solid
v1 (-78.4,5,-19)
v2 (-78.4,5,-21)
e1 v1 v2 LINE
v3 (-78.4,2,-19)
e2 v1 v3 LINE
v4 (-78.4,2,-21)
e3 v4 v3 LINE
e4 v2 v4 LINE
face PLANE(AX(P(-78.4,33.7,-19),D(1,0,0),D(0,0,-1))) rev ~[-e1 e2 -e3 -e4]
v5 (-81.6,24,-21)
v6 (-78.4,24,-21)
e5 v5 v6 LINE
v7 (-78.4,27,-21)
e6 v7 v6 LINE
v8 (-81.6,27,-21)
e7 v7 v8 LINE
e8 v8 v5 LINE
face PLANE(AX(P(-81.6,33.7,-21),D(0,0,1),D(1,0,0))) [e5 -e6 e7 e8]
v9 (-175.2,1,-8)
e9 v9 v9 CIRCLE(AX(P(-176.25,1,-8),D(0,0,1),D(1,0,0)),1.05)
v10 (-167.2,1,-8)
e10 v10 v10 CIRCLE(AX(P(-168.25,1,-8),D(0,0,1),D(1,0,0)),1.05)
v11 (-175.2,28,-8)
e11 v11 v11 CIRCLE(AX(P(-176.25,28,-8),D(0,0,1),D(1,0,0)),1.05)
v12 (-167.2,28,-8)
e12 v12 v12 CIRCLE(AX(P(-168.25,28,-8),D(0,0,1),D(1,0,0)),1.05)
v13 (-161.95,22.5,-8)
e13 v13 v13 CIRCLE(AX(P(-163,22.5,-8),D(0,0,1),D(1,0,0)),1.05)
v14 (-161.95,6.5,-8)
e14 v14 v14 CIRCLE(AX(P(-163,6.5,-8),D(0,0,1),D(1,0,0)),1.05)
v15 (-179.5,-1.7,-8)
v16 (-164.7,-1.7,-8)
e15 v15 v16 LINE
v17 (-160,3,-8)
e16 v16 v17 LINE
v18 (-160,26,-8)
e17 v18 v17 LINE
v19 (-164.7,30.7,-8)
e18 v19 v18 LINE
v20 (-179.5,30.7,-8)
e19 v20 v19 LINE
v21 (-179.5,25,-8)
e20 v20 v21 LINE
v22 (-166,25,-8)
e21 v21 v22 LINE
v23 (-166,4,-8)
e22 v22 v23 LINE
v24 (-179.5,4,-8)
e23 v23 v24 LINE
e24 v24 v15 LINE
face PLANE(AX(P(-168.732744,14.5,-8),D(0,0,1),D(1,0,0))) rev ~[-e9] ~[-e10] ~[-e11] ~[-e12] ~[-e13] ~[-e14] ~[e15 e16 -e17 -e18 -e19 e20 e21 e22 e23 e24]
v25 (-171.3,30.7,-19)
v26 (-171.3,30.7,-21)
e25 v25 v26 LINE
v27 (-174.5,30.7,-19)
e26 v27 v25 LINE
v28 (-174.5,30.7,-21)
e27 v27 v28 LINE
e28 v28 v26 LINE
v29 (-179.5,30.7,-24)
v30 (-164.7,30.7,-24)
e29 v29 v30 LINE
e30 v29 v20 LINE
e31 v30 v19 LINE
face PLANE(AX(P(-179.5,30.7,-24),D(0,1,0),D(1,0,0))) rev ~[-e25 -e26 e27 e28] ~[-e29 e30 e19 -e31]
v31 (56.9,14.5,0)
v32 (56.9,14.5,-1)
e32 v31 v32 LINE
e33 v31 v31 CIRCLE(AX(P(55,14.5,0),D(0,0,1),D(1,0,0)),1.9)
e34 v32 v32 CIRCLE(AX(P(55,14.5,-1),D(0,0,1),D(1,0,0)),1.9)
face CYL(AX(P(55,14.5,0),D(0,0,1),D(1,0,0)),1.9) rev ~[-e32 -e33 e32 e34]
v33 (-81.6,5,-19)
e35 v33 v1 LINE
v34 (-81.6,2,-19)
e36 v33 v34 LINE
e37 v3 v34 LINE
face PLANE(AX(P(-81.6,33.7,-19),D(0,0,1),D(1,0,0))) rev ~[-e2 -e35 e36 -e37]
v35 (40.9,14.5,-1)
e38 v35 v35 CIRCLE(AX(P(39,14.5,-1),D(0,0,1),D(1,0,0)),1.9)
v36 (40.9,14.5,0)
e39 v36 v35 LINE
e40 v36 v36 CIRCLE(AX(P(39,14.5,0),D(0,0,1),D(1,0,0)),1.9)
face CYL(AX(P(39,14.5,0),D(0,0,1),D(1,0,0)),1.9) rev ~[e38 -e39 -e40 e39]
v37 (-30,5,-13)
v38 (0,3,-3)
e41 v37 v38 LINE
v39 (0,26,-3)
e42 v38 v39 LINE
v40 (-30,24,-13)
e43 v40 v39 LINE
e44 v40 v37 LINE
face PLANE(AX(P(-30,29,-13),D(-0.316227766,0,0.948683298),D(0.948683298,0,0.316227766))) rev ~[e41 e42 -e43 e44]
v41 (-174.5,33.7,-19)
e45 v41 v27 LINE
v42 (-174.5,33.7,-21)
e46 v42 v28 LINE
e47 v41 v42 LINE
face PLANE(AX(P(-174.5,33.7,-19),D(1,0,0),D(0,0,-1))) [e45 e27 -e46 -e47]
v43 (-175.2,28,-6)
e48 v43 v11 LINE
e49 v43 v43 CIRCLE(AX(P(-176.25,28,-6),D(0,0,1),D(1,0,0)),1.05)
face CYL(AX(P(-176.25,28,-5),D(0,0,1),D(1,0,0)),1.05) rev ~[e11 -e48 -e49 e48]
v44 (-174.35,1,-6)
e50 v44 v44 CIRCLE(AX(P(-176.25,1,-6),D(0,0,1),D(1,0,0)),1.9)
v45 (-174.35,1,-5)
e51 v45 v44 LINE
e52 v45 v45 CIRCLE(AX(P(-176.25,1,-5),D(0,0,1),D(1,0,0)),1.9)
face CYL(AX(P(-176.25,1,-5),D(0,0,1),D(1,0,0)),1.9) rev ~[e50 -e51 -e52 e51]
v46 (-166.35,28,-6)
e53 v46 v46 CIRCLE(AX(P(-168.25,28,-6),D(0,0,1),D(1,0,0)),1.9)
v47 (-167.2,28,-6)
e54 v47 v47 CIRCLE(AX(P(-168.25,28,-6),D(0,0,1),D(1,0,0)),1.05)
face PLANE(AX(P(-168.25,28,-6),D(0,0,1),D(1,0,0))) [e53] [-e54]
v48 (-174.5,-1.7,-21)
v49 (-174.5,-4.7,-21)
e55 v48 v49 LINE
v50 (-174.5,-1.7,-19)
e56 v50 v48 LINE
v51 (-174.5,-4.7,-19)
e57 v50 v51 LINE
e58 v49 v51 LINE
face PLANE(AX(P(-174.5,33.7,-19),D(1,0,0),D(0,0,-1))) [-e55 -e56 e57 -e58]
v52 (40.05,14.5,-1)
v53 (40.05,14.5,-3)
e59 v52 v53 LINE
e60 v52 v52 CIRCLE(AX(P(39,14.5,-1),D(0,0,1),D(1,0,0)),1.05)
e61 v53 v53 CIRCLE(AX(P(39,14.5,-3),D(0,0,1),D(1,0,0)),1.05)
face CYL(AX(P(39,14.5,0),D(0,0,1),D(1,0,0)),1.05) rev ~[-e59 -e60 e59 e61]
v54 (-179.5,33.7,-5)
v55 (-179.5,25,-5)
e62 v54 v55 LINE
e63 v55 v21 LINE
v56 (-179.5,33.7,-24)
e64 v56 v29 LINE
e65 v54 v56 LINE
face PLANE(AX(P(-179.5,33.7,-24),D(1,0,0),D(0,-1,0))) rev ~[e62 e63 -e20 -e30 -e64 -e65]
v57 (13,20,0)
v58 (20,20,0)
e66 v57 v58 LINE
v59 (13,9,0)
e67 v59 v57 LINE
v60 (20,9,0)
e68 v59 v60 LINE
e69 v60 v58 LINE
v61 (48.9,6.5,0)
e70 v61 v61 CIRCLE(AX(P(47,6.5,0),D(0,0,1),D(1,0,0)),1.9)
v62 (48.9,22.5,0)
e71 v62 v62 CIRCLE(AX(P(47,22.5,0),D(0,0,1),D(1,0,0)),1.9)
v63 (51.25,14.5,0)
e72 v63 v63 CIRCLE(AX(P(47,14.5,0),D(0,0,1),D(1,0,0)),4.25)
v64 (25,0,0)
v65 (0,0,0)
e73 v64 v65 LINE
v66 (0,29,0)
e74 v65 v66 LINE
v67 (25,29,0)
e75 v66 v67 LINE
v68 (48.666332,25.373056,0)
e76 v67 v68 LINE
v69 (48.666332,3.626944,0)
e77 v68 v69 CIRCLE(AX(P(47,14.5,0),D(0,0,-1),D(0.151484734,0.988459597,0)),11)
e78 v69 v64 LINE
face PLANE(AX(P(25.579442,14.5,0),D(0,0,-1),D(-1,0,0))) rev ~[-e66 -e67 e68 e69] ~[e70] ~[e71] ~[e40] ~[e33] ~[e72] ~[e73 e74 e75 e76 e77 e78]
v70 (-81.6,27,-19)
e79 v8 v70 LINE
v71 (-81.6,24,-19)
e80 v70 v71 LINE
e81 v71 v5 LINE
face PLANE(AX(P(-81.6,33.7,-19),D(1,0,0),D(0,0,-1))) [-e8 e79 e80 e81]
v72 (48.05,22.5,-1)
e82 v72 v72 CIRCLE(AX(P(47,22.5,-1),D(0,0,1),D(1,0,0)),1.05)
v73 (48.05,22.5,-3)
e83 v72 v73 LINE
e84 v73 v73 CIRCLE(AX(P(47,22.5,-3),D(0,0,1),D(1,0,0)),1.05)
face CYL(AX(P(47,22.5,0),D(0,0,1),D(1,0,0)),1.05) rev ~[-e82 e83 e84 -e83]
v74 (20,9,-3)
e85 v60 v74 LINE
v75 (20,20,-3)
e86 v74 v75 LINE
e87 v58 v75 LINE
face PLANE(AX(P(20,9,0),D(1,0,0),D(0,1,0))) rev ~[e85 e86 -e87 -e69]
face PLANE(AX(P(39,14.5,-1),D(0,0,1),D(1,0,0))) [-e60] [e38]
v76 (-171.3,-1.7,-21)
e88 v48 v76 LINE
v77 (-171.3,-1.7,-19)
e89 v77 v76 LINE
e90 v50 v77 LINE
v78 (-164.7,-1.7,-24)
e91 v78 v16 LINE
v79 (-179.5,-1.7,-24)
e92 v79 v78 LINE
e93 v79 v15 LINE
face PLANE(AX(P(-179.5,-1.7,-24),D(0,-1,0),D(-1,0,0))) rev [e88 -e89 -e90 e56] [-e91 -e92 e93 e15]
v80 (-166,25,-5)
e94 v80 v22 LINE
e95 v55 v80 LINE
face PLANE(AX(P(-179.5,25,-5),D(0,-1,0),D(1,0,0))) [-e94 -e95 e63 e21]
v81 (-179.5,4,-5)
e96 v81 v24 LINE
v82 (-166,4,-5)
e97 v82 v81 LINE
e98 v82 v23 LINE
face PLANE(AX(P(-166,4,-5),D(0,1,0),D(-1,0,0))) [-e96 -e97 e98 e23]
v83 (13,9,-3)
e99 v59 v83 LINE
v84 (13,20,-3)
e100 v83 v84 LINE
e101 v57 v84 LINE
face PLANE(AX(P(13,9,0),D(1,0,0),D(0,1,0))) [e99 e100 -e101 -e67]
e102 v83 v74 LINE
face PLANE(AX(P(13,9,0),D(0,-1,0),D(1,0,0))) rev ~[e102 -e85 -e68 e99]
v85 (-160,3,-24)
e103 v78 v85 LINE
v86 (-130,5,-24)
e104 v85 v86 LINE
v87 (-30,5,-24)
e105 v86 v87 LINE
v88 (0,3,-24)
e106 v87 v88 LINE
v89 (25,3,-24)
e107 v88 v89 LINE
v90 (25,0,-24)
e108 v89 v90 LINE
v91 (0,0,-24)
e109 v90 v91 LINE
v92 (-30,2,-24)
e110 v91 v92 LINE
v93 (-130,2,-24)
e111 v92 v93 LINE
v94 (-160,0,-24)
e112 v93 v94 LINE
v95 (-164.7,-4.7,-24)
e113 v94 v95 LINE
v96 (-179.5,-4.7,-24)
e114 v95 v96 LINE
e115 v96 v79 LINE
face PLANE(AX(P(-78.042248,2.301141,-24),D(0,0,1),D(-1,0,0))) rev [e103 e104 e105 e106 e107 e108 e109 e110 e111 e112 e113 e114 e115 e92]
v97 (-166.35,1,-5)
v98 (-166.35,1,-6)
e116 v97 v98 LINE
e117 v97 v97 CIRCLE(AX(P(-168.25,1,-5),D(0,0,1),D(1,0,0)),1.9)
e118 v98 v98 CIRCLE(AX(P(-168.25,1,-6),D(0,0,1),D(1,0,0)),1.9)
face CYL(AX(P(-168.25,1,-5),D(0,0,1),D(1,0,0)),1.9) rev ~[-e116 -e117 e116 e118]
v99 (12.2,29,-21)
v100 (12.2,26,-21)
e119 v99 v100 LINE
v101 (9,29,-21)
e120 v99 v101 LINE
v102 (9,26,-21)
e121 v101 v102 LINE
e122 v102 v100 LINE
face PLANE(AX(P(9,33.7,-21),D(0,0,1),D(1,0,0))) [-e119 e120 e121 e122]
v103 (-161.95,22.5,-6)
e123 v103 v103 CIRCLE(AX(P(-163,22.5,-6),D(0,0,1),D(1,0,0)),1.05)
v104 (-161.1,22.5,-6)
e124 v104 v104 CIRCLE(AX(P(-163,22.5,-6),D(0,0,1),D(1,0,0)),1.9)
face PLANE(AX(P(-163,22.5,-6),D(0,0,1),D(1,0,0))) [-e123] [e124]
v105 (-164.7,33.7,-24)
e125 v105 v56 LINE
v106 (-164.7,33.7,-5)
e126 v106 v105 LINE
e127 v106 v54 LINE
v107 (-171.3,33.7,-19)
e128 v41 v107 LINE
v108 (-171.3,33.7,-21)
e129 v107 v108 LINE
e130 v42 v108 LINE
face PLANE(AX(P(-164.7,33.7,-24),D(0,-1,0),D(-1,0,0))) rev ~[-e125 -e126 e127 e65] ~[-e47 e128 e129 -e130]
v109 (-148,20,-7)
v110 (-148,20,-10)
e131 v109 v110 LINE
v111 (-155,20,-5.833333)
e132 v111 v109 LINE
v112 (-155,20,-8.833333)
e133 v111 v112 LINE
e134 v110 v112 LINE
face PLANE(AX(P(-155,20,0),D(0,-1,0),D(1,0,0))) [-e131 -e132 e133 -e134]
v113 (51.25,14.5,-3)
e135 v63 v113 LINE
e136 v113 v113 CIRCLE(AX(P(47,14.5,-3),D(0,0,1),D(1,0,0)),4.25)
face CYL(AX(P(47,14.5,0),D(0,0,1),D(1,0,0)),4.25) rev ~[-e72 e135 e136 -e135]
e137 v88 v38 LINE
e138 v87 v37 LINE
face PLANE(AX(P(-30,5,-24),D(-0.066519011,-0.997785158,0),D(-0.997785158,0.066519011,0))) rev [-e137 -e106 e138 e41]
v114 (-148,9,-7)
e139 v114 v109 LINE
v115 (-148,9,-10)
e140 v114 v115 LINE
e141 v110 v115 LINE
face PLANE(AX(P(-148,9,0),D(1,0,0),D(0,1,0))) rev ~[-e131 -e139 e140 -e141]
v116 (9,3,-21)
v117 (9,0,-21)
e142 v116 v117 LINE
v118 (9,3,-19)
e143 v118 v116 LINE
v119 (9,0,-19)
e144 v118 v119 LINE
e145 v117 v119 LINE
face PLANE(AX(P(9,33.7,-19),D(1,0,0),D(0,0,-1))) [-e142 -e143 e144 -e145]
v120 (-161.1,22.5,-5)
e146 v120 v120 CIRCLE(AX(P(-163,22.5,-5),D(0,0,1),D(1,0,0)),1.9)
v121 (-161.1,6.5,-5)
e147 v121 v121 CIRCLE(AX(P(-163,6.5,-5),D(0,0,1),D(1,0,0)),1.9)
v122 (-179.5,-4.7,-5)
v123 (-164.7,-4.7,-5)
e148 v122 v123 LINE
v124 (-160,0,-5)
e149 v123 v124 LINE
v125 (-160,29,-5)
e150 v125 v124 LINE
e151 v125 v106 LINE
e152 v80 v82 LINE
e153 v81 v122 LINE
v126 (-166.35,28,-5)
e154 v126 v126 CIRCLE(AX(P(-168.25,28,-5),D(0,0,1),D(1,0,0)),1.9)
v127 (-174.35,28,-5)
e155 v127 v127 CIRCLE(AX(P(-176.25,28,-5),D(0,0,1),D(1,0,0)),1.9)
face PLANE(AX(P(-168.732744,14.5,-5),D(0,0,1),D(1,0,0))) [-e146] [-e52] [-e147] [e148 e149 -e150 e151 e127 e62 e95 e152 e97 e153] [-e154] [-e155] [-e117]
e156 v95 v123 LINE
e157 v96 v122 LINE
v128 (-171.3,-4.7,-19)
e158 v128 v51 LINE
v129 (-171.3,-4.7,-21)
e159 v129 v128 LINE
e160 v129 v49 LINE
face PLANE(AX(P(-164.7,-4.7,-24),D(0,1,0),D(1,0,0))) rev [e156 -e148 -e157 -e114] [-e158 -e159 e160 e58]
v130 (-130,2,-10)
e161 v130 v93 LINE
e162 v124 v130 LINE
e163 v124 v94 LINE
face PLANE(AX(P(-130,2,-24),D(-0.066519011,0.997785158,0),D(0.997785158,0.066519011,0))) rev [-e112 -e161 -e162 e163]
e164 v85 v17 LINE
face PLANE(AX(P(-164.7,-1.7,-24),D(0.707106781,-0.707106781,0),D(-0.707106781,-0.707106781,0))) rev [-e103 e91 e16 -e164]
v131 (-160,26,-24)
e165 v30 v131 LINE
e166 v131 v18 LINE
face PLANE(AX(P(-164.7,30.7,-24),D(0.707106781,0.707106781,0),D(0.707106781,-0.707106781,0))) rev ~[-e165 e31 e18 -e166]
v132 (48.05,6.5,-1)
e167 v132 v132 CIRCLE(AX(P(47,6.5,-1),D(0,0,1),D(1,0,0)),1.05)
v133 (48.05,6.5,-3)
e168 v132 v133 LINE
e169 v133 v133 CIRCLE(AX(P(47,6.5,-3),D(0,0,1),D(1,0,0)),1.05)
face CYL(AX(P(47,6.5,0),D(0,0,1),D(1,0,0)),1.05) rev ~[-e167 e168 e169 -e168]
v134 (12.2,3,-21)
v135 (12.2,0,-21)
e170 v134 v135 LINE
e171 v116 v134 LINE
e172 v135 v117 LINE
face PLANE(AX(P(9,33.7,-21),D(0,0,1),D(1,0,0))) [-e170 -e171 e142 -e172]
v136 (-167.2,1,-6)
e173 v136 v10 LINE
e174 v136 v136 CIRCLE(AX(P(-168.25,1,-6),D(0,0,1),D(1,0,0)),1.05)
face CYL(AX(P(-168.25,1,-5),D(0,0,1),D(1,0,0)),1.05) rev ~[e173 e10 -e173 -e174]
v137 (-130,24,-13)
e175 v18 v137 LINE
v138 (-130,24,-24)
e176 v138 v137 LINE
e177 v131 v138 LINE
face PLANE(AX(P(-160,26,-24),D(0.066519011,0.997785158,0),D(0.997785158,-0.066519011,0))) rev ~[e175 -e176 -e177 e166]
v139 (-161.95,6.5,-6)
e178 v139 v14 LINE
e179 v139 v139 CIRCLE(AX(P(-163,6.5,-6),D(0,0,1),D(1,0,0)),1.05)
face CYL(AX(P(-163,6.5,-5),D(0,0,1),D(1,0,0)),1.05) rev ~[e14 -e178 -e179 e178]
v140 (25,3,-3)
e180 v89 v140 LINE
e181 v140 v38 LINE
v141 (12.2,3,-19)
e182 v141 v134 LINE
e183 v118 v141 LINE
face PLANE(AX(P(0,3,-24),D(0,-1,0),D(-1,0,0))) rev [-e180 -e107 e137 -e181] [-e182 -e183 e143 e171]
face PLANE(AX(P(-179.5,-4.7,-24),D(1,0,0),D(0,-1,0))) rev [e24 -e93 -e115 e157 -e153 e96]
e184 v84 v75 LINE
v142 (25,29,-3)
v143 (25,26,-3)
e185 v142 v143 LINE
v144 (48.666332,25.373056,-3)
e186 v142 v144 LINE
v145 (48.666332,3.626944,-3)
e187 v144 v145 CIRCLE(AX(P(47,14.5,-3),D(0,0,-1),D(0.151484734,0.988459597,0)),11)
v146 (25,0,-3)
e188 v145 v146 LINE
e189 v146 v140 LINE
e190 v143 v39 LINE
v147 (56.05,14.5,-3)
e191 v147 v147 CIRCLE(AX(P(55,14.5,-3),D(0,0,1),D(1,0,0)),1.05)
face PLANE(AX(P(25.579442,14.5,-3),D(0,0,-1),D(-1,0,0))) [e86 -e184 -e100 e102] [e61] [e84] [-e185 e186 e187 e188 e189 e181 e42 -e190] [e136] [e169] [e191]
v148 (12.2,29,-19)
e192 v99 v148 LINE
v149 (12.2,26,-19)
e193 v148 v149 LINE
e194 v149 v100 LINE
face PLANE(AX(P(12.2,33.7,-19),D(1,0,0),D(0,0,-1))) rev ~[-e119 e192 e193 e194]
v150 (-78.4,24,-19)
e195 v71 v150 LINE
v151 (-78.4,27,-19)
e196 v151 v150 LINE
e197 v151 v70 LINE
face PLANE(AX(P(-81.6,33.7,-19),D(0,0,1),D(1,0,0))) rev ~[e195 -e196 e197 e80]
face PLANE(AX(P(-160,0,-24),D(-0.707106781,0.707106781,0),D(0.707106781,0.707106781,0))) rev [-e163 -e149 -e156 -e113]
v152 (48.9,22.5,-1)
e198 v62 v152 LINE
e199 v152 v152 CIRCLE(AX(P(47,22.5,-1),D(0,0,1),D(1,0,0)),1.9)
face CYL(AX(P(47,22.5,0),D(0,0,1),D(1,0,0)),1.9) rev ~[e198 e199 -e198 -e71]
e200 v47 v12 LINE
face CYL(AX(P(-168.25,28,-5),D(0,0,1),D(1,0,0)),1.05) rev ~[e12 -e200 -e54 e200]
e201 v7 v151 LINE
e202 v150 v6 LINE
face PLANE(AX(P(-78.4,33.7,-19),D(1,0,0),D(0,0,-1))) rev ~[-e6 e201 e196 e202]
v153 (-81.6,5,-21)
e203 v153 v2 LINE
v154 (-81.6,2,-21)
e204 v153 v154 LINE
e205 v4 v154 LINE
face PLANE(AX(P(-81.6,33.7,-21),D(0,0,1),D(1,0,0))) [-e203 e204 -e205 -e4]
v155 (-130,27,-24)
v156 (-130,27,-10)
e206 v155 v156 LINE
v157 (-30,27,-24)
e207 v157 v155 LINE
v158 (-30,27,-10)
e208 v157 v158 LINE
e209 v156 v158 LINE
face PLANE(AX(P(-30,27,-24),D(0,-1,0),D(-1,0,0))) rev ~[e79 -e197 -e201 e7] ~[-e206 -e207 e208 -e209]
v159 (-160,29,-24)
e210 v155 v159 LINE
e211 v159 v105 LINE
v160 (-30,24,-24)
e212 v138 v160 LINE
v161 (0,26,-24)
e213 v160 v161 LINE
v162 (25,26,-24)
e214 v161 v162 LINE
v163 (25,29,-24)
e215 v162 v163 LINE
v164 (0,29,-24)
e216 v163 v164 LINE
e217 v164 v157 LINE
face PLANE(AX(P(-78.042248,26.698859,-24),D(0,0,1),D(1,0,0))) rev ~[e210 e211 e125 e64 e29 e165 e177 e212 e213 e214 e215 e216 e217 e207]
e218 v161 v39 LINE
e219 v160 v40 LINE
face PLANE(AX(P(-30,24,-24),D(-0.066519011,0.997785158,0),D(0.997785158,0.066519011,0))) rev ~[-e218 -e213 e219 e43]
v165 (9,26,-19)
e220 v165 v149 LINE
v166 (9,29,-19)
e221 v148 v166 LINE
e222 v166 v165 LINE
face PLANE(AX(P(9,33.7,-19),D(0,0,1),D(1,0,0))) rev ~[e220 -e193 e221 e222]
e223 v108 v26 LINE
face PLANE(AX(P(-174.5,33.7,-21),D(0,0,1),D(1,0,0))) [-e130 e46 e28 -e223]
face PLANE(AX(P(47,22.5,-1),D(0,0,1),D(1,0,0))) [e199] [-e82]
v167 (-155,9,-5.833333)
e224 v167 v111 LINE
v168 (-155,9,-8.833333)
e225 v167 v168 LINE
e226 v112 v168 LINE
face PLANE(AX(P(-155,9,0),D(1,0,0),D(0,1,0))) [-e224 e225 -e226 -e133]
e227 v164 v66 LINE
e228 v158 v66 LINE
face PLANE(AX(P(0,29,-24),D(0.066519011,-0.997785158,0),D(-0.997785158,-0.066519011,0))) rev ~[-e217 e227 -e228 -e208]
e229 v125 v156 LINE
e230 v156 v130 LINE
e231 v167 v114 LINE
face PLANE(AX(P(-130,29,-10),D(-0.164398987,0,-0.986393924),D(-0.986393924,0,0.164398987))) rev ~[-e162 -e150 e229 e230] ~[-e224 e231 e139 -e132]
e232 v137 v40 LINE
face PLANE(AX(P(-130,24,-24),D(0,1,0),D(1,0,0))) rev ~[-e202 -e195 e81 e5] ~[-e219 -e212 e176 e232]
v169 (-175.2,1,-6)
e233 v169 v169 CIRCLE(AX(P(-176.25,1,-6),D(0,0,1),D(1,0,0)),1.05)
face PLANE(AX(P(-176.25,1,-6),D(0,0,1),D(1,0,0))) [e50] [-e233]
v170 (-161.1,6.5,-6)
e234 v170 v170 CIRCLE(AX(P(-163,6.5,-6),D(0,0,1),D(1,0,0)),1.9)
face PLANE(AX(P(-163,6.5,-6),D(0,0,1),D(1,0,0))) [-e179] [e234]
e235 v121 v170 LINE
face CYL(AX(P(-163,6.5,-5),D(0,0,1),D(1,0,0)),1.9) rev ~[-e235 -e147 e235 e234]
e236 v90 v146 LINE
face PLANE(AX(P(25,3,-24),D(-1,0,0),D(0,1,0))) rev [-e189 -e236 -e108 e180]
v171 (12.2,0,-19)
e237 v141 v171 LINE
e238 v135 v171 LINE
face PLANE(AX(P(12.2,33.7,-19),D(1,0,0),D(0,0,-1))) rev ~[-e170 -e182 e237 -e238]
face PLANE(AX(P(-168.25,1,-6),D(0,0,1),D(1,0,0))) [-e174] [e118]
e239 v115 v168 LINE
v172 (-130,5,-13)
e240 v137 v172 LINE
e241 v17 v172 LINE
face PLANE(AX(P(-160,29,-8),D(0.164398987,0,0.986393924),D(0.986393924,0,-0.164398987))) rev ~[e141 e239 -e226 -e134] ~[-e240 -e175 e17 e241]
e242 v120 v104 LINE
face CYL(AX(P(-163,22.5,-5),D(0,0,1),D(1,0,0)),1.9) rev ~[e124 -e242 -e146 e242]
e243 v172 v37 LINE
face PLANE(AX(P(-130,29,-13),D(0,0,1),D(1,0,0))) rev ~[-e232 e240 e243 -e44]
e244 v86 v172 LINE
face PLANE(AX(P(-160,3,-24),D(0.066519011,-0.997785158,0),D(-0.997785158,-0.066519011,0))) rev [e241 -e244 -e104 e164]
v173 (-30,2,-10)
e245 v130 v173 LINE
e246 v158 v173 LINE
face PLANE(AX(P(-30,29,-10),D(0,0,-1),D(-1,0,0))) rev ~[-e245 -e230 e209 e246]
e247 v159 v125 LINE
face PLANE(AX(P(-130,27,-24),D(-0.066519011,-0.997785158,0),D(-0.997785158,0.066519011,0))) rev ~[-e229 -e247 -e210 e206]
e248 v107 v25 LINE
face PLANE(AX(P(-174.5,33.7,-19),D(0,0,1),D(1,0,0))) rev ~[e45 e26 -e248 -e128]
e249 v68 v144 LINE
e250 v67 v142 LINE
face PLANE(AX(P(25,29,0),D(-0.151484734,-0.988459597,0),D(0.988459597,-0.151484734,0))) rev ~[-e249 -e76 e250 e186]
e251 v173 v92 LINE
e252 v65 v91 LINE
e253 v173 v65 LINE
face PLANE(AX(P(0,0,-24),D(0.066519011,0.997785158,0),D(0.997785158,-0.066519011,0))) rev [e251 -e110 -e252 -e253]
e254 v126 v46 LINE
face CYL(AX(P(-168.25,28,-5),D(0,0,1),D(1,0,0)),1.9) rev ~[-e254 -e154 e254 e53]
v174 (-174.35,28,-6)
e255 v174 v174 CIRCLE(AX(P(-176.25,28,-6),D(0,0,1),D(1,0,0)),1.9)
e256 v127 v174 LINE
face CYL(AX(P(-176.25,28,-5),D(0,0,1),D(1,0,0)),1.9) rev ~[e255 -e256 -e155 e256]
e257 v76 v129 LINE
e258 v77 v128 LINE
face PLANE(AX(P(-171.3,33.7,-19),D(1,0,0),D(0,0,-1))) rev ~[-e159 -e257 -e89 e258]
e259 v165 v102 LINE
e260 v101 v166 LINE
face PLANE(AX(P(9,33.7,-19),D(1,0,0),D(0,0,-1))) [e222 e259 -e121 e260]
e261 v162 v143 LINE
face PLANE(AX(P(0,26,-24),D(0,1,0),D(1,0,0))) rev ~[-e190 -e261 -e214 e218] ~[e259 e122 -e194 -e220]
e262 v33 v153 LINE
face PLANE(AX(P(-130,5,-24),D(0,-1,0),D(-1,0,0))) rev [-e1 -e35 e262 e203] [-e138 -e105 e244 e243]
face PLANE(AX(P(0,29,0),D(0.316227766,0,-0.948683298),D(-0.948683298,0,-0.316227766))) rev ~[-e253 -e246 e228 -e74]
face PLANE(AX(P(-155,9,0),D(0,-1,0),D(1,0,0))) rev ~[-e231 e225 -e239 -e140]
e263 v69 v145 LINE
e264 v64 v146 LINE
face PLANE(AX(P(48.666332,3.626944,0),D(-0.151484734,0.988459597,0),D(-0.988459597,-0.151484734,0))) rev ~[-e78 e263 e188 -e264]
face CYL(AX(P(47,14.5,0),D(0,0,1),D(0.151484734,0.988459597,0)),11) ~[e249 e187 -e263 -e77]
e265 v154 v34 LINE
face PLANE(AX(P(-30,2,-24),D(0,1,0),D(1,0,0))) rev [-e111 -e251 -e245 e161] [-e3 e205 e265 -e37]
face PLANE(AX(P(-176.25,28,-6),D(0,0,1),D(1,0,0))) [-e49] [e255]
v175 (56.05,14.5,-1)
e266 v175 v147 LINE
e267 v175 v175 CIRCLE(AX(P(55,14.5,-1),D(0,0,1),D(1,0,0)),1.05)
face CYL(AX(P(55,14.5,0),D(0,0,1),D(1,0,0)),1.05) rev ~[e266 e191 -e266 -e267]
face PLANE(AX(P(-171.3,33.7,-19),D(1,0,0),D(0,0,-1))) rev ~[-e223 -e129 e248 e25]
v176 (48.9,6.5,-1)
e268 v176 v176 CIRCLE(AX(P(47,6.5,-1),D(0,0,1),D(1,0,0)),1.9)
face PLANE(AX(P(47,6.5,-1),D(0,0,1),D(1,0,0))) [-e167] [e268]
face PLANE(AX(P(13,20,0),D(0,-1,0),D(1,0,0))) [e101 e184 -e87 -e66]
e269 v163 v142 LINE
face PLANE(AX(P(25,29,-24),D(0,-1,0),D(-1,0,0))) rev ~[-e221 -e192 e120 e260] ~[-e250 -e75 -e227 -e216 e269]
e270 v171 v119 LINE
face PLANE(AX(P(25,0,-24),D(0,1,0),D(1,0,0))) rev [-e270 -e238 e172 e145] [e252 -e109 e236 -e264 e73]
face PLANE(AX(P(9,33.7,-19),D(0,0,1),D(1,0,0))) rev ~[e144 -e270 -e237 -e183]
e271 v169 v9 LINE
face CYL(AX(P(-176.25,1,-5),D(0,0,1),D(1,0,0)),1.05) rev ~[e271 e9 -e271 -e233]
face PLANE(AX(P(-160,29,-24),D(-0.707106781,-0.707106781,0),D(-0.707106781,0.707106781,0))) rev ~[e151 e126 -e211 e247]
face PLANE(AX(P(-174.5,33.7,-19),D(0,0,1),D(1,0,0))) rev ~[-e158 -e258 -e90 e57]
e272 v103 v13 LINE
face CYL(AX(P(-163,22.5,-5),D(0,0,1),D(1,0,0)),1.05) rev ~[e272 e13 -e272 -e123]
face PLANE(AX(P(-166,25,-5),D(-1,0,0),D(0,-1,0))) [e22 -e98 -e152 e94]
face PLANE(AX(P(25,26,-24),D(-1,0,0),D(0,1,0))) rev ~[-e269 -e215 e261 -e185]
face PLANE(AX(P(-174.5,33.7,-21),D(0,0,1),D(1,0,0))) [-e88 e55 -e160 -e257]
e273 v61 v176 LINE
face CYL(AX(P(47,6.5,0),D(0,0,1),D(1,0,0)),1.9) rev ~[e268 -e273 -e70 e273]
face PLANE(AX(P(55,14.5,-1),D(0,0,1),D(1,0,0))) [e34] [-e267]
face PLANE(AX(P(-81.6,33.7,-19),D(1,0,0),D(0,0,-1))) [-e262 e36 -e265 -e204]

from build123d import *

# Parameters (mm, degrees)
BOSS_EXTRUDE1_DEPTH = 3
CUT_EXTRUDE1_REACH  = 66.915
SKETCH2_R           = 4.25
SKETCH2_R_2         = 1.05
SKETCH3_R           = 1.9
CUT_EXTRUDE2_DEPTH  = 1
BOSS_EXTRUDE2_DEPTH = 29
BOSS_EXTRUDE4_DEPTH = 3
CUT_EXTRUDE3_REACH  = 184.811
SKETCH8_R           = 1.05
SKETCH9_R           = 1.9
CUT_EXTRUDE4_DEPTH  = 1
CUT_EXTRUDE5_REACH  = 185.098
BOSS_EXTRUDE8_REACH = 186.206
SKETCH16_W          = 3.2
SKETCH16_H          = 2
CUT_EXTRUDE6_DEPTH  = 186.123769408
CUT_EXTRUDE7_REACH  = 186.206
SKETCH17_W          = 7
SKETCH17_H          = 11


with BuildPart() as part:
    # Sketch1 → Boss-Extrude1 (new body)
    with BuildSketch(Plane.XY):
        with BuildLine():
            Line((25, 29), (48.666332079, 25.373055569))
            ThreePointArc((48.666332079, 25.373055569), (58, 14.5), (48.666332079, 3.626944431))
            Line((48.666332079, 3.626944431), (25, 0))
            Line((25, 0), (0, 0))
            Line((0, 0), (0, 29))
            Line((0, 29), (25, 29))
        make_face()
    extrude(amount=-BOSS_EXTRUDE1_DEPTH)

    # Sketch2 → Cut-Extrude1 (cut, up to next)
    with BuildSketch(Plane.XY, mode=Mode.PRIVATE) as cut_extrude1_sk1:
        with Locations((47, 14.5)):
            Circle(SKETCH2_R)
    cut_extrude1_tool1 = extrude(cut_extrude1_sk1.sketch, amount=-CUT_EXTRUDE1_REACH, mode=Mode.PRIVATE) & part.part
    # Sketch2 → Cut-Extrude1 (cut, up to next)
    with BuildSketch(Plane.XY, mode=Mode.PRIVATE) as cut_extrude1_sk2:
        with Locations((47, 22.5)):
            Circle(SKETCH2_R_2)
    cut_extrude1_tool2 = extrude(cut_extrude1_sk2.sketch, amount=-CUT_EXTRUDE1_REACH, mode=Mode.PRIVATE) & part.part
    # Sketch2 → Cut-Extrude1 (cut, up to next)
    with BuildSketch(Plane.XY, mode=Mode.PRIVATE) as cut_extrude1_sk3:
        with Locations((55, 14.5)):
            Circle(SKETCH2_R_2)
    cut_extrude1_tool3 = extrude(cut_extrude1_sk3.sketch, amount=-CUT_EXTRUDE1_REACH, mode=Mode.PRIVATE) & part.part
    # Sketch2 → Cut-Extrude1 (cut, up to next)
    with BuildSketch(Plane.XY, mode=Mode.PRIVATE) as cut_extrude1_sk4:
        with Locations((47, 6.5)):
            Circle(SKETCH2_R_2)
    cut_extrude1_tool4 = extrude(cut_extrude1_sk4.sketch, amount=-CUT_EXTRUDE1_REACH, mode=Mode.PRIVATE) & part.part
    # Sketch2 → Cut-Extrude1 (cut, up to next)
    with BuildSketch(Plane.XY, mode=Mode.PRIVATE) as cut_extrude1_sk5:
        with Locations((39, 14.5)):
            Circle(SKETCH2_R_2)
    cut_extrude1_tool5 = extrude(cut_extrude1_sk5.sketch, amount=-CUT_EXTRUDE1_REACH, mode=Mode.PRIVATE) & part.part
    add(cut_extrude1_tool1.solids().sort_by_distance((47, 14.5, 0))[0], mode=Mode.SUBTRACT)
    add(cut_extrude1_tool2.solids().sort_by_distance((47, 22.5, 0))[0], mode=Mode.SUBTRACT)
    add(cut_extrude1_tool3.solids().sort_by_distance((55, 14.5, 0))[0], mode=Mode.SUBTRACT)
    add(cut_extrude1_tool4.solids().sort_by_distance((47, 6.5, 0))[0], mode=Mode.SUBTRACT)
    add(cut_extrude1_tool5.solids().sort_by_distance((39, 14.5, 0))[0], mode=Mode.SUBTRACT)

    # Sketch3 → Cut-Extrude2 (cut)
    with BuildSketch(Plane.XY):
        with Locations((47, 22.5)):
            Circle(SKETCH3_R)
        with Locations((55, 14.5)):
            Circle(SKETCH3_R)
        with Locations((47, 6.5)):
            Circle(SKETCH3_R)
        with Locations((39, 14.5)):
            Circle(SKETCH3_R)
    extrude(amount=-CUT_EXTRUDE2_DEPTH, mode=Mode.SUBTRACT)

    # Sketch4 → Boss-Extrude2 (add)
    with BuildSketch(Plane(origin=(0, 29, 0), x_dir=(1, 0, 0), z_dir=(0, 1, 0))):
        Polygon((0, 3), (0, 0), (-30, 10), (-130, 10), (-160, 5), (-160, 8), (-130, 13), (-30, 13), align=None)
    extrude(amount=-BOSS_EXTRUDE2_DEPTH)

    # Sketch7 → Boss-Extrude4 (add)
    with BuildSketch(Plane.XY.offset(-5)):
        Polygon((-160, 29), (-164.7, 33.7), (-179.5, 33.7), (-179.5, 25), (-166, 25), (-166, 4), (-179.5, 4), (-179.5, -4.7), (-164.7, -4.7), (-160, 0), align=None)
    extrude(amount=-BOSS_EXTRUDE4_DEPTH)

    # Sketch8 → Cut-Extrude3 (cut, up to next)
    with BuildSketch(Plane.XY.offset(-5), mode=Mode.PRIVATE) as cut_extrude3_sk1:
        with Locations((-176.25, 28)):
            Circle(SKETCH8_R)
    cut_extrude3_tool1 = extrude(cut_extrude3_sk1.sketch, amount=-CUT_EXTRUDE3_REACH, mode=Mode.PRIVATE) & part.part
    # Sketch8 → Cut-Extrude3 (cut, up to next)
    with BuildSketch(Plane.XY.offset(-5), mode=Mode.PRIVATE) as cut_extrude3_sk2:
        with Locations((-168.25, 28)):
            Circle(SKETCH8_R)
    cut_extrude3_tool2 = extrude(cut_extrude3_sk2.sketch, amount=-CUT_EXTRUDE3_REACH, mode=Mode.PRIVATE) & part.part
    # Sketch8 → Cut-Extrude3 (cut, up to next)
    with BuildSketch(Plane.XY.offset(-5), mode=Mode.PRIVATE) as cut_extrude3_sk3:
        with Locations((-163, 22.5)):
            Circle(SKETCH8_R)
    cut_extrude3_tool3 = extrude(cut_extrude3_sk3.sketch, amount=-CUT_EXTRUDE3_REACH, mode=Mode.PRIVATE) & part.part
    # Sketch8 → Cut-Extrude3 (cut, up to next)
    with BuildSketch(Plane.XY.offset(-5), mode=Mode.PRIVATE) as cut_extrude3_sk4:
        with Locations((-163, 6.5)):
            Circle(SKETCH8_R)
    cut_extrude3_tool4 = extrude(cut_extrude3_sk4.sketch, amount=-CUT_EXTRUDE3_REACH, mode=Mode.PRIVATE) & part.part
    # Sketch8 → Cut-Extrude3 (cut, up to next)
    with BuildSketch(Plane.XY.offset(-5), mode=Mode.PRIVATE) as cut_extrude3_sk5:
        with Locations((-168.25, 1)):
            Circle(SKETCH8_R)
    cut_extrude3_tool5 = extrude(cut_extrude3_sk5.sketch, amount=-CUT_EXTRUDE3_REACH, mode=Mode.PRIVATE) & part.part
    # Sketch8 → Cut-Extrude3 (cut, up to next)
    with BuildSketch(Plane.XY.offset(-5), mode=Mode.PRIVATE) as cut_extrude3_sk6:
        with Locations((-176.25, 1)):
            Circle(SKETCH8_R)
    cut_extrude3_tool6 = extrude(cut_extrude3_sk6.sketch, amount=-CUT_EXTRUDE3_REACH, mode=Mode.PRIVATE) & part.part
    add(cut_extrude3_tool1.solids().sort_by_distance((-176.25, 28, -5))[0], mode=Mode.SUBTRACT)
    add(cut_extrude3_tool2.solids().sort_by_distance((-168.25, 28, -5))[0], mode=Mode.SUBTRACT)
    add(cut_extrude3_tool3.solids().sort_by_distance((-163, 22.5, -5))[0], mode=Mode.SUBTRACT)
    add(cut_extrude3_tool4.solids().sort_by_distance((-163, 6.5, -5))[0], mode=Mode.SUBTRACT)
    add(cut_extrude3_tool5.solids().sort_by_distance((-168.25, 1, -5))[0], mode=Mode.SUBTRACT)
    add(cut_extrude3_tool6.solids().sort_by_distance((-176.25, 1, -5))[0], mode=Mode.SUBTRACT)

    # Sketch9 → Cut-Extrude4 (cut)
    with BuildSketch(Plane.XY.offset(-5)):
        with Locations((-176.25, 28)):
            Circle(SKETCH9_R)
        with Locations((-168.25, 28)):
            Circle(SKETCH9_R)
        with Locations((-163, 22.5)):
            Circle(SKETCH9_R)
        with Locations((-163, 6.5)):
            Circle(SKETCH9_R)
        with Locations((-168.25, 1)):
            Circle(SKETCH9_R)
        with Locations((-176.25, 1)):
            Circle(SKETCH9_R)
    extrude(amount=-CUT_EXTRUDE4_DEPTH, mode=Mode.SUBTRACT)

    # Cut-Extrude5: up to this face of the body (flat: up to its plane)
    cut_extrude5_end = Plane(part.part.faces().sort_by_distance((-80, 14.5, -13))[0])
    # Sketch11 → Cut-Extrude5 (cut, up to the picked face)
    with BuildSketch(Plane.XY, mode=Mode.PRIVATE) as cut_extrude5_sk1:
        Polygon((0, 0), (-30, 2), (-130, 2), (-160, 0), align=None)
    cut_extrude5_tool1 = split(extrude(cut_extrude5_sk1.sketch, amount=-CUT_EXTRUDE5_REACH, mode=Mode.PRIVATE), bisect_by=cut_extrude5_end, keep=Keep.BOTH, mode=Mode.PRIVATE)
    # Sketch11 → Cut-Extrude5 (cut, up to the picked face)
    with BuildSketch(Plane.XY, mode=Mode.PRIVATE) as cut_extrude5_sk2:
        Polygon((0, 29), (-30, 27), (-130, 27), (-160, 29), align=None)
    cut_extrude5_tool2 = split(extrude(cut_extrude5_sk2.sketch, amount=-CUT_EXTRUDE5_REACH, mode=Mode.PRIVATE), bisect_by=cut_extrude5_end, keep=Keep.BOTH, mode=Mode.PRIVATE)
    add(cut_extrude5_tool1.solids().sort_by(Axis((-80, 0.923077, 0), (0, 0, -1)))[0], mode=Mode.SUBTRACT)
    add(cut_extrude5_tool2.solids().sort_by(Axis((-80, 28.076923, 0), (0, 0, -1)))[0], mode=Mode.SUBTRACT)

    # Sketch14 → Boss-Extrude8 (add, up to next)
    with BuildSketch(Plane.XY.offset(-24), mode=Mode.PRIVATE) as boss_extrude8_sk1:
        Polygon((-179.5, 33.7), (-179.5, 30.7), (-164.7, 30.7), (-160, 26), (-130, 24), (-30, 24), (0, 26), (25, 26), (25, 29), (0, 29), (-30, 27), (-130, 27), (-160, 29), (-164.7, 33.7), align=None)
    boss_extrude8_tool1 = extrude(boss_extrude8_sk1.sketch, amount=BOSS_EXTRUDE8_REACH, mode=Mode.PRIVATE) - part.part
    boss_extrude8 = boss_extrude8_tool1.solids().sort_by_distance((-77.25, 26.622763, -24))[0]
    add(boss_extrude8)

    # Mirror1: Boss-Extrude8 across plane
    add(boss_extrude8.mirror(Plane.ZX.offset(14.5)))

    # Sketch16 → Cut-Extrude6 (cut, through all)
    with BuildSketch(Plane(origin=(0, 33.7, 0), x_dir=(1, 0, 0), z_dir=(0, 1, 0))):
        with Locations((-172.9, 20)):
            Rectangle(SKETCH16_W, SKETCH16_H)
        with Locations((-80, 20)):
            Rectangle(SKETCH16_W, SKETCH16_H)
        with Locations((10.6, 20)):
            Rectangle(SKETCH16_W, SKETCH16_H)
    extrude(amount=-CUT_EXTRUDE6_DEPTH, mode=Mode.SUBTRACT)

    # Sketch17 → Cut-Extrude7 (cut, up to next)
    with BuildSketch(Plane.XY, mode=Mode.PRIVATE) as cut_extrude7_sk1:
        with Locations((-151.5, 14.5)):
            Rectangle(SKETCH17_W, SKETCH17_H)
    cut_extrude7_tool1 = extrude(cut_extrude7_sk1.sketch, amount=-CUT_EXTRUDE7_REACH, mode=Mode.PRIVATE) & part.part
    # Sketch17 → Cut-Extrude7 (cut, up to next)
    with BuildSketch(Plane.XY, mode=Mode.PRIVATE) as cut_extrude7_sk2:
        with Locations((16.5, 14.5)):
            Rectangle(SKETCH17_W, SKETCH17_H)
    cut_extrude7_tool2 = extrude(cut_extrude7_sk2.sketch, amount=-CUT_EXTRUDE7_REACH, mode=Mode.PRIVATE) & part.part
    add(cut_extrude7_tool1.solids().sort_by_distance((-151.5, 14.5, 0))[0], mode=Mode.SUBTRACT)
    add(cut_extrude7_tool2.solids().sort_by_distance((16.5, 14.5, 0))[0], mode=Mode.SUBTRACT)


solid = part.part
